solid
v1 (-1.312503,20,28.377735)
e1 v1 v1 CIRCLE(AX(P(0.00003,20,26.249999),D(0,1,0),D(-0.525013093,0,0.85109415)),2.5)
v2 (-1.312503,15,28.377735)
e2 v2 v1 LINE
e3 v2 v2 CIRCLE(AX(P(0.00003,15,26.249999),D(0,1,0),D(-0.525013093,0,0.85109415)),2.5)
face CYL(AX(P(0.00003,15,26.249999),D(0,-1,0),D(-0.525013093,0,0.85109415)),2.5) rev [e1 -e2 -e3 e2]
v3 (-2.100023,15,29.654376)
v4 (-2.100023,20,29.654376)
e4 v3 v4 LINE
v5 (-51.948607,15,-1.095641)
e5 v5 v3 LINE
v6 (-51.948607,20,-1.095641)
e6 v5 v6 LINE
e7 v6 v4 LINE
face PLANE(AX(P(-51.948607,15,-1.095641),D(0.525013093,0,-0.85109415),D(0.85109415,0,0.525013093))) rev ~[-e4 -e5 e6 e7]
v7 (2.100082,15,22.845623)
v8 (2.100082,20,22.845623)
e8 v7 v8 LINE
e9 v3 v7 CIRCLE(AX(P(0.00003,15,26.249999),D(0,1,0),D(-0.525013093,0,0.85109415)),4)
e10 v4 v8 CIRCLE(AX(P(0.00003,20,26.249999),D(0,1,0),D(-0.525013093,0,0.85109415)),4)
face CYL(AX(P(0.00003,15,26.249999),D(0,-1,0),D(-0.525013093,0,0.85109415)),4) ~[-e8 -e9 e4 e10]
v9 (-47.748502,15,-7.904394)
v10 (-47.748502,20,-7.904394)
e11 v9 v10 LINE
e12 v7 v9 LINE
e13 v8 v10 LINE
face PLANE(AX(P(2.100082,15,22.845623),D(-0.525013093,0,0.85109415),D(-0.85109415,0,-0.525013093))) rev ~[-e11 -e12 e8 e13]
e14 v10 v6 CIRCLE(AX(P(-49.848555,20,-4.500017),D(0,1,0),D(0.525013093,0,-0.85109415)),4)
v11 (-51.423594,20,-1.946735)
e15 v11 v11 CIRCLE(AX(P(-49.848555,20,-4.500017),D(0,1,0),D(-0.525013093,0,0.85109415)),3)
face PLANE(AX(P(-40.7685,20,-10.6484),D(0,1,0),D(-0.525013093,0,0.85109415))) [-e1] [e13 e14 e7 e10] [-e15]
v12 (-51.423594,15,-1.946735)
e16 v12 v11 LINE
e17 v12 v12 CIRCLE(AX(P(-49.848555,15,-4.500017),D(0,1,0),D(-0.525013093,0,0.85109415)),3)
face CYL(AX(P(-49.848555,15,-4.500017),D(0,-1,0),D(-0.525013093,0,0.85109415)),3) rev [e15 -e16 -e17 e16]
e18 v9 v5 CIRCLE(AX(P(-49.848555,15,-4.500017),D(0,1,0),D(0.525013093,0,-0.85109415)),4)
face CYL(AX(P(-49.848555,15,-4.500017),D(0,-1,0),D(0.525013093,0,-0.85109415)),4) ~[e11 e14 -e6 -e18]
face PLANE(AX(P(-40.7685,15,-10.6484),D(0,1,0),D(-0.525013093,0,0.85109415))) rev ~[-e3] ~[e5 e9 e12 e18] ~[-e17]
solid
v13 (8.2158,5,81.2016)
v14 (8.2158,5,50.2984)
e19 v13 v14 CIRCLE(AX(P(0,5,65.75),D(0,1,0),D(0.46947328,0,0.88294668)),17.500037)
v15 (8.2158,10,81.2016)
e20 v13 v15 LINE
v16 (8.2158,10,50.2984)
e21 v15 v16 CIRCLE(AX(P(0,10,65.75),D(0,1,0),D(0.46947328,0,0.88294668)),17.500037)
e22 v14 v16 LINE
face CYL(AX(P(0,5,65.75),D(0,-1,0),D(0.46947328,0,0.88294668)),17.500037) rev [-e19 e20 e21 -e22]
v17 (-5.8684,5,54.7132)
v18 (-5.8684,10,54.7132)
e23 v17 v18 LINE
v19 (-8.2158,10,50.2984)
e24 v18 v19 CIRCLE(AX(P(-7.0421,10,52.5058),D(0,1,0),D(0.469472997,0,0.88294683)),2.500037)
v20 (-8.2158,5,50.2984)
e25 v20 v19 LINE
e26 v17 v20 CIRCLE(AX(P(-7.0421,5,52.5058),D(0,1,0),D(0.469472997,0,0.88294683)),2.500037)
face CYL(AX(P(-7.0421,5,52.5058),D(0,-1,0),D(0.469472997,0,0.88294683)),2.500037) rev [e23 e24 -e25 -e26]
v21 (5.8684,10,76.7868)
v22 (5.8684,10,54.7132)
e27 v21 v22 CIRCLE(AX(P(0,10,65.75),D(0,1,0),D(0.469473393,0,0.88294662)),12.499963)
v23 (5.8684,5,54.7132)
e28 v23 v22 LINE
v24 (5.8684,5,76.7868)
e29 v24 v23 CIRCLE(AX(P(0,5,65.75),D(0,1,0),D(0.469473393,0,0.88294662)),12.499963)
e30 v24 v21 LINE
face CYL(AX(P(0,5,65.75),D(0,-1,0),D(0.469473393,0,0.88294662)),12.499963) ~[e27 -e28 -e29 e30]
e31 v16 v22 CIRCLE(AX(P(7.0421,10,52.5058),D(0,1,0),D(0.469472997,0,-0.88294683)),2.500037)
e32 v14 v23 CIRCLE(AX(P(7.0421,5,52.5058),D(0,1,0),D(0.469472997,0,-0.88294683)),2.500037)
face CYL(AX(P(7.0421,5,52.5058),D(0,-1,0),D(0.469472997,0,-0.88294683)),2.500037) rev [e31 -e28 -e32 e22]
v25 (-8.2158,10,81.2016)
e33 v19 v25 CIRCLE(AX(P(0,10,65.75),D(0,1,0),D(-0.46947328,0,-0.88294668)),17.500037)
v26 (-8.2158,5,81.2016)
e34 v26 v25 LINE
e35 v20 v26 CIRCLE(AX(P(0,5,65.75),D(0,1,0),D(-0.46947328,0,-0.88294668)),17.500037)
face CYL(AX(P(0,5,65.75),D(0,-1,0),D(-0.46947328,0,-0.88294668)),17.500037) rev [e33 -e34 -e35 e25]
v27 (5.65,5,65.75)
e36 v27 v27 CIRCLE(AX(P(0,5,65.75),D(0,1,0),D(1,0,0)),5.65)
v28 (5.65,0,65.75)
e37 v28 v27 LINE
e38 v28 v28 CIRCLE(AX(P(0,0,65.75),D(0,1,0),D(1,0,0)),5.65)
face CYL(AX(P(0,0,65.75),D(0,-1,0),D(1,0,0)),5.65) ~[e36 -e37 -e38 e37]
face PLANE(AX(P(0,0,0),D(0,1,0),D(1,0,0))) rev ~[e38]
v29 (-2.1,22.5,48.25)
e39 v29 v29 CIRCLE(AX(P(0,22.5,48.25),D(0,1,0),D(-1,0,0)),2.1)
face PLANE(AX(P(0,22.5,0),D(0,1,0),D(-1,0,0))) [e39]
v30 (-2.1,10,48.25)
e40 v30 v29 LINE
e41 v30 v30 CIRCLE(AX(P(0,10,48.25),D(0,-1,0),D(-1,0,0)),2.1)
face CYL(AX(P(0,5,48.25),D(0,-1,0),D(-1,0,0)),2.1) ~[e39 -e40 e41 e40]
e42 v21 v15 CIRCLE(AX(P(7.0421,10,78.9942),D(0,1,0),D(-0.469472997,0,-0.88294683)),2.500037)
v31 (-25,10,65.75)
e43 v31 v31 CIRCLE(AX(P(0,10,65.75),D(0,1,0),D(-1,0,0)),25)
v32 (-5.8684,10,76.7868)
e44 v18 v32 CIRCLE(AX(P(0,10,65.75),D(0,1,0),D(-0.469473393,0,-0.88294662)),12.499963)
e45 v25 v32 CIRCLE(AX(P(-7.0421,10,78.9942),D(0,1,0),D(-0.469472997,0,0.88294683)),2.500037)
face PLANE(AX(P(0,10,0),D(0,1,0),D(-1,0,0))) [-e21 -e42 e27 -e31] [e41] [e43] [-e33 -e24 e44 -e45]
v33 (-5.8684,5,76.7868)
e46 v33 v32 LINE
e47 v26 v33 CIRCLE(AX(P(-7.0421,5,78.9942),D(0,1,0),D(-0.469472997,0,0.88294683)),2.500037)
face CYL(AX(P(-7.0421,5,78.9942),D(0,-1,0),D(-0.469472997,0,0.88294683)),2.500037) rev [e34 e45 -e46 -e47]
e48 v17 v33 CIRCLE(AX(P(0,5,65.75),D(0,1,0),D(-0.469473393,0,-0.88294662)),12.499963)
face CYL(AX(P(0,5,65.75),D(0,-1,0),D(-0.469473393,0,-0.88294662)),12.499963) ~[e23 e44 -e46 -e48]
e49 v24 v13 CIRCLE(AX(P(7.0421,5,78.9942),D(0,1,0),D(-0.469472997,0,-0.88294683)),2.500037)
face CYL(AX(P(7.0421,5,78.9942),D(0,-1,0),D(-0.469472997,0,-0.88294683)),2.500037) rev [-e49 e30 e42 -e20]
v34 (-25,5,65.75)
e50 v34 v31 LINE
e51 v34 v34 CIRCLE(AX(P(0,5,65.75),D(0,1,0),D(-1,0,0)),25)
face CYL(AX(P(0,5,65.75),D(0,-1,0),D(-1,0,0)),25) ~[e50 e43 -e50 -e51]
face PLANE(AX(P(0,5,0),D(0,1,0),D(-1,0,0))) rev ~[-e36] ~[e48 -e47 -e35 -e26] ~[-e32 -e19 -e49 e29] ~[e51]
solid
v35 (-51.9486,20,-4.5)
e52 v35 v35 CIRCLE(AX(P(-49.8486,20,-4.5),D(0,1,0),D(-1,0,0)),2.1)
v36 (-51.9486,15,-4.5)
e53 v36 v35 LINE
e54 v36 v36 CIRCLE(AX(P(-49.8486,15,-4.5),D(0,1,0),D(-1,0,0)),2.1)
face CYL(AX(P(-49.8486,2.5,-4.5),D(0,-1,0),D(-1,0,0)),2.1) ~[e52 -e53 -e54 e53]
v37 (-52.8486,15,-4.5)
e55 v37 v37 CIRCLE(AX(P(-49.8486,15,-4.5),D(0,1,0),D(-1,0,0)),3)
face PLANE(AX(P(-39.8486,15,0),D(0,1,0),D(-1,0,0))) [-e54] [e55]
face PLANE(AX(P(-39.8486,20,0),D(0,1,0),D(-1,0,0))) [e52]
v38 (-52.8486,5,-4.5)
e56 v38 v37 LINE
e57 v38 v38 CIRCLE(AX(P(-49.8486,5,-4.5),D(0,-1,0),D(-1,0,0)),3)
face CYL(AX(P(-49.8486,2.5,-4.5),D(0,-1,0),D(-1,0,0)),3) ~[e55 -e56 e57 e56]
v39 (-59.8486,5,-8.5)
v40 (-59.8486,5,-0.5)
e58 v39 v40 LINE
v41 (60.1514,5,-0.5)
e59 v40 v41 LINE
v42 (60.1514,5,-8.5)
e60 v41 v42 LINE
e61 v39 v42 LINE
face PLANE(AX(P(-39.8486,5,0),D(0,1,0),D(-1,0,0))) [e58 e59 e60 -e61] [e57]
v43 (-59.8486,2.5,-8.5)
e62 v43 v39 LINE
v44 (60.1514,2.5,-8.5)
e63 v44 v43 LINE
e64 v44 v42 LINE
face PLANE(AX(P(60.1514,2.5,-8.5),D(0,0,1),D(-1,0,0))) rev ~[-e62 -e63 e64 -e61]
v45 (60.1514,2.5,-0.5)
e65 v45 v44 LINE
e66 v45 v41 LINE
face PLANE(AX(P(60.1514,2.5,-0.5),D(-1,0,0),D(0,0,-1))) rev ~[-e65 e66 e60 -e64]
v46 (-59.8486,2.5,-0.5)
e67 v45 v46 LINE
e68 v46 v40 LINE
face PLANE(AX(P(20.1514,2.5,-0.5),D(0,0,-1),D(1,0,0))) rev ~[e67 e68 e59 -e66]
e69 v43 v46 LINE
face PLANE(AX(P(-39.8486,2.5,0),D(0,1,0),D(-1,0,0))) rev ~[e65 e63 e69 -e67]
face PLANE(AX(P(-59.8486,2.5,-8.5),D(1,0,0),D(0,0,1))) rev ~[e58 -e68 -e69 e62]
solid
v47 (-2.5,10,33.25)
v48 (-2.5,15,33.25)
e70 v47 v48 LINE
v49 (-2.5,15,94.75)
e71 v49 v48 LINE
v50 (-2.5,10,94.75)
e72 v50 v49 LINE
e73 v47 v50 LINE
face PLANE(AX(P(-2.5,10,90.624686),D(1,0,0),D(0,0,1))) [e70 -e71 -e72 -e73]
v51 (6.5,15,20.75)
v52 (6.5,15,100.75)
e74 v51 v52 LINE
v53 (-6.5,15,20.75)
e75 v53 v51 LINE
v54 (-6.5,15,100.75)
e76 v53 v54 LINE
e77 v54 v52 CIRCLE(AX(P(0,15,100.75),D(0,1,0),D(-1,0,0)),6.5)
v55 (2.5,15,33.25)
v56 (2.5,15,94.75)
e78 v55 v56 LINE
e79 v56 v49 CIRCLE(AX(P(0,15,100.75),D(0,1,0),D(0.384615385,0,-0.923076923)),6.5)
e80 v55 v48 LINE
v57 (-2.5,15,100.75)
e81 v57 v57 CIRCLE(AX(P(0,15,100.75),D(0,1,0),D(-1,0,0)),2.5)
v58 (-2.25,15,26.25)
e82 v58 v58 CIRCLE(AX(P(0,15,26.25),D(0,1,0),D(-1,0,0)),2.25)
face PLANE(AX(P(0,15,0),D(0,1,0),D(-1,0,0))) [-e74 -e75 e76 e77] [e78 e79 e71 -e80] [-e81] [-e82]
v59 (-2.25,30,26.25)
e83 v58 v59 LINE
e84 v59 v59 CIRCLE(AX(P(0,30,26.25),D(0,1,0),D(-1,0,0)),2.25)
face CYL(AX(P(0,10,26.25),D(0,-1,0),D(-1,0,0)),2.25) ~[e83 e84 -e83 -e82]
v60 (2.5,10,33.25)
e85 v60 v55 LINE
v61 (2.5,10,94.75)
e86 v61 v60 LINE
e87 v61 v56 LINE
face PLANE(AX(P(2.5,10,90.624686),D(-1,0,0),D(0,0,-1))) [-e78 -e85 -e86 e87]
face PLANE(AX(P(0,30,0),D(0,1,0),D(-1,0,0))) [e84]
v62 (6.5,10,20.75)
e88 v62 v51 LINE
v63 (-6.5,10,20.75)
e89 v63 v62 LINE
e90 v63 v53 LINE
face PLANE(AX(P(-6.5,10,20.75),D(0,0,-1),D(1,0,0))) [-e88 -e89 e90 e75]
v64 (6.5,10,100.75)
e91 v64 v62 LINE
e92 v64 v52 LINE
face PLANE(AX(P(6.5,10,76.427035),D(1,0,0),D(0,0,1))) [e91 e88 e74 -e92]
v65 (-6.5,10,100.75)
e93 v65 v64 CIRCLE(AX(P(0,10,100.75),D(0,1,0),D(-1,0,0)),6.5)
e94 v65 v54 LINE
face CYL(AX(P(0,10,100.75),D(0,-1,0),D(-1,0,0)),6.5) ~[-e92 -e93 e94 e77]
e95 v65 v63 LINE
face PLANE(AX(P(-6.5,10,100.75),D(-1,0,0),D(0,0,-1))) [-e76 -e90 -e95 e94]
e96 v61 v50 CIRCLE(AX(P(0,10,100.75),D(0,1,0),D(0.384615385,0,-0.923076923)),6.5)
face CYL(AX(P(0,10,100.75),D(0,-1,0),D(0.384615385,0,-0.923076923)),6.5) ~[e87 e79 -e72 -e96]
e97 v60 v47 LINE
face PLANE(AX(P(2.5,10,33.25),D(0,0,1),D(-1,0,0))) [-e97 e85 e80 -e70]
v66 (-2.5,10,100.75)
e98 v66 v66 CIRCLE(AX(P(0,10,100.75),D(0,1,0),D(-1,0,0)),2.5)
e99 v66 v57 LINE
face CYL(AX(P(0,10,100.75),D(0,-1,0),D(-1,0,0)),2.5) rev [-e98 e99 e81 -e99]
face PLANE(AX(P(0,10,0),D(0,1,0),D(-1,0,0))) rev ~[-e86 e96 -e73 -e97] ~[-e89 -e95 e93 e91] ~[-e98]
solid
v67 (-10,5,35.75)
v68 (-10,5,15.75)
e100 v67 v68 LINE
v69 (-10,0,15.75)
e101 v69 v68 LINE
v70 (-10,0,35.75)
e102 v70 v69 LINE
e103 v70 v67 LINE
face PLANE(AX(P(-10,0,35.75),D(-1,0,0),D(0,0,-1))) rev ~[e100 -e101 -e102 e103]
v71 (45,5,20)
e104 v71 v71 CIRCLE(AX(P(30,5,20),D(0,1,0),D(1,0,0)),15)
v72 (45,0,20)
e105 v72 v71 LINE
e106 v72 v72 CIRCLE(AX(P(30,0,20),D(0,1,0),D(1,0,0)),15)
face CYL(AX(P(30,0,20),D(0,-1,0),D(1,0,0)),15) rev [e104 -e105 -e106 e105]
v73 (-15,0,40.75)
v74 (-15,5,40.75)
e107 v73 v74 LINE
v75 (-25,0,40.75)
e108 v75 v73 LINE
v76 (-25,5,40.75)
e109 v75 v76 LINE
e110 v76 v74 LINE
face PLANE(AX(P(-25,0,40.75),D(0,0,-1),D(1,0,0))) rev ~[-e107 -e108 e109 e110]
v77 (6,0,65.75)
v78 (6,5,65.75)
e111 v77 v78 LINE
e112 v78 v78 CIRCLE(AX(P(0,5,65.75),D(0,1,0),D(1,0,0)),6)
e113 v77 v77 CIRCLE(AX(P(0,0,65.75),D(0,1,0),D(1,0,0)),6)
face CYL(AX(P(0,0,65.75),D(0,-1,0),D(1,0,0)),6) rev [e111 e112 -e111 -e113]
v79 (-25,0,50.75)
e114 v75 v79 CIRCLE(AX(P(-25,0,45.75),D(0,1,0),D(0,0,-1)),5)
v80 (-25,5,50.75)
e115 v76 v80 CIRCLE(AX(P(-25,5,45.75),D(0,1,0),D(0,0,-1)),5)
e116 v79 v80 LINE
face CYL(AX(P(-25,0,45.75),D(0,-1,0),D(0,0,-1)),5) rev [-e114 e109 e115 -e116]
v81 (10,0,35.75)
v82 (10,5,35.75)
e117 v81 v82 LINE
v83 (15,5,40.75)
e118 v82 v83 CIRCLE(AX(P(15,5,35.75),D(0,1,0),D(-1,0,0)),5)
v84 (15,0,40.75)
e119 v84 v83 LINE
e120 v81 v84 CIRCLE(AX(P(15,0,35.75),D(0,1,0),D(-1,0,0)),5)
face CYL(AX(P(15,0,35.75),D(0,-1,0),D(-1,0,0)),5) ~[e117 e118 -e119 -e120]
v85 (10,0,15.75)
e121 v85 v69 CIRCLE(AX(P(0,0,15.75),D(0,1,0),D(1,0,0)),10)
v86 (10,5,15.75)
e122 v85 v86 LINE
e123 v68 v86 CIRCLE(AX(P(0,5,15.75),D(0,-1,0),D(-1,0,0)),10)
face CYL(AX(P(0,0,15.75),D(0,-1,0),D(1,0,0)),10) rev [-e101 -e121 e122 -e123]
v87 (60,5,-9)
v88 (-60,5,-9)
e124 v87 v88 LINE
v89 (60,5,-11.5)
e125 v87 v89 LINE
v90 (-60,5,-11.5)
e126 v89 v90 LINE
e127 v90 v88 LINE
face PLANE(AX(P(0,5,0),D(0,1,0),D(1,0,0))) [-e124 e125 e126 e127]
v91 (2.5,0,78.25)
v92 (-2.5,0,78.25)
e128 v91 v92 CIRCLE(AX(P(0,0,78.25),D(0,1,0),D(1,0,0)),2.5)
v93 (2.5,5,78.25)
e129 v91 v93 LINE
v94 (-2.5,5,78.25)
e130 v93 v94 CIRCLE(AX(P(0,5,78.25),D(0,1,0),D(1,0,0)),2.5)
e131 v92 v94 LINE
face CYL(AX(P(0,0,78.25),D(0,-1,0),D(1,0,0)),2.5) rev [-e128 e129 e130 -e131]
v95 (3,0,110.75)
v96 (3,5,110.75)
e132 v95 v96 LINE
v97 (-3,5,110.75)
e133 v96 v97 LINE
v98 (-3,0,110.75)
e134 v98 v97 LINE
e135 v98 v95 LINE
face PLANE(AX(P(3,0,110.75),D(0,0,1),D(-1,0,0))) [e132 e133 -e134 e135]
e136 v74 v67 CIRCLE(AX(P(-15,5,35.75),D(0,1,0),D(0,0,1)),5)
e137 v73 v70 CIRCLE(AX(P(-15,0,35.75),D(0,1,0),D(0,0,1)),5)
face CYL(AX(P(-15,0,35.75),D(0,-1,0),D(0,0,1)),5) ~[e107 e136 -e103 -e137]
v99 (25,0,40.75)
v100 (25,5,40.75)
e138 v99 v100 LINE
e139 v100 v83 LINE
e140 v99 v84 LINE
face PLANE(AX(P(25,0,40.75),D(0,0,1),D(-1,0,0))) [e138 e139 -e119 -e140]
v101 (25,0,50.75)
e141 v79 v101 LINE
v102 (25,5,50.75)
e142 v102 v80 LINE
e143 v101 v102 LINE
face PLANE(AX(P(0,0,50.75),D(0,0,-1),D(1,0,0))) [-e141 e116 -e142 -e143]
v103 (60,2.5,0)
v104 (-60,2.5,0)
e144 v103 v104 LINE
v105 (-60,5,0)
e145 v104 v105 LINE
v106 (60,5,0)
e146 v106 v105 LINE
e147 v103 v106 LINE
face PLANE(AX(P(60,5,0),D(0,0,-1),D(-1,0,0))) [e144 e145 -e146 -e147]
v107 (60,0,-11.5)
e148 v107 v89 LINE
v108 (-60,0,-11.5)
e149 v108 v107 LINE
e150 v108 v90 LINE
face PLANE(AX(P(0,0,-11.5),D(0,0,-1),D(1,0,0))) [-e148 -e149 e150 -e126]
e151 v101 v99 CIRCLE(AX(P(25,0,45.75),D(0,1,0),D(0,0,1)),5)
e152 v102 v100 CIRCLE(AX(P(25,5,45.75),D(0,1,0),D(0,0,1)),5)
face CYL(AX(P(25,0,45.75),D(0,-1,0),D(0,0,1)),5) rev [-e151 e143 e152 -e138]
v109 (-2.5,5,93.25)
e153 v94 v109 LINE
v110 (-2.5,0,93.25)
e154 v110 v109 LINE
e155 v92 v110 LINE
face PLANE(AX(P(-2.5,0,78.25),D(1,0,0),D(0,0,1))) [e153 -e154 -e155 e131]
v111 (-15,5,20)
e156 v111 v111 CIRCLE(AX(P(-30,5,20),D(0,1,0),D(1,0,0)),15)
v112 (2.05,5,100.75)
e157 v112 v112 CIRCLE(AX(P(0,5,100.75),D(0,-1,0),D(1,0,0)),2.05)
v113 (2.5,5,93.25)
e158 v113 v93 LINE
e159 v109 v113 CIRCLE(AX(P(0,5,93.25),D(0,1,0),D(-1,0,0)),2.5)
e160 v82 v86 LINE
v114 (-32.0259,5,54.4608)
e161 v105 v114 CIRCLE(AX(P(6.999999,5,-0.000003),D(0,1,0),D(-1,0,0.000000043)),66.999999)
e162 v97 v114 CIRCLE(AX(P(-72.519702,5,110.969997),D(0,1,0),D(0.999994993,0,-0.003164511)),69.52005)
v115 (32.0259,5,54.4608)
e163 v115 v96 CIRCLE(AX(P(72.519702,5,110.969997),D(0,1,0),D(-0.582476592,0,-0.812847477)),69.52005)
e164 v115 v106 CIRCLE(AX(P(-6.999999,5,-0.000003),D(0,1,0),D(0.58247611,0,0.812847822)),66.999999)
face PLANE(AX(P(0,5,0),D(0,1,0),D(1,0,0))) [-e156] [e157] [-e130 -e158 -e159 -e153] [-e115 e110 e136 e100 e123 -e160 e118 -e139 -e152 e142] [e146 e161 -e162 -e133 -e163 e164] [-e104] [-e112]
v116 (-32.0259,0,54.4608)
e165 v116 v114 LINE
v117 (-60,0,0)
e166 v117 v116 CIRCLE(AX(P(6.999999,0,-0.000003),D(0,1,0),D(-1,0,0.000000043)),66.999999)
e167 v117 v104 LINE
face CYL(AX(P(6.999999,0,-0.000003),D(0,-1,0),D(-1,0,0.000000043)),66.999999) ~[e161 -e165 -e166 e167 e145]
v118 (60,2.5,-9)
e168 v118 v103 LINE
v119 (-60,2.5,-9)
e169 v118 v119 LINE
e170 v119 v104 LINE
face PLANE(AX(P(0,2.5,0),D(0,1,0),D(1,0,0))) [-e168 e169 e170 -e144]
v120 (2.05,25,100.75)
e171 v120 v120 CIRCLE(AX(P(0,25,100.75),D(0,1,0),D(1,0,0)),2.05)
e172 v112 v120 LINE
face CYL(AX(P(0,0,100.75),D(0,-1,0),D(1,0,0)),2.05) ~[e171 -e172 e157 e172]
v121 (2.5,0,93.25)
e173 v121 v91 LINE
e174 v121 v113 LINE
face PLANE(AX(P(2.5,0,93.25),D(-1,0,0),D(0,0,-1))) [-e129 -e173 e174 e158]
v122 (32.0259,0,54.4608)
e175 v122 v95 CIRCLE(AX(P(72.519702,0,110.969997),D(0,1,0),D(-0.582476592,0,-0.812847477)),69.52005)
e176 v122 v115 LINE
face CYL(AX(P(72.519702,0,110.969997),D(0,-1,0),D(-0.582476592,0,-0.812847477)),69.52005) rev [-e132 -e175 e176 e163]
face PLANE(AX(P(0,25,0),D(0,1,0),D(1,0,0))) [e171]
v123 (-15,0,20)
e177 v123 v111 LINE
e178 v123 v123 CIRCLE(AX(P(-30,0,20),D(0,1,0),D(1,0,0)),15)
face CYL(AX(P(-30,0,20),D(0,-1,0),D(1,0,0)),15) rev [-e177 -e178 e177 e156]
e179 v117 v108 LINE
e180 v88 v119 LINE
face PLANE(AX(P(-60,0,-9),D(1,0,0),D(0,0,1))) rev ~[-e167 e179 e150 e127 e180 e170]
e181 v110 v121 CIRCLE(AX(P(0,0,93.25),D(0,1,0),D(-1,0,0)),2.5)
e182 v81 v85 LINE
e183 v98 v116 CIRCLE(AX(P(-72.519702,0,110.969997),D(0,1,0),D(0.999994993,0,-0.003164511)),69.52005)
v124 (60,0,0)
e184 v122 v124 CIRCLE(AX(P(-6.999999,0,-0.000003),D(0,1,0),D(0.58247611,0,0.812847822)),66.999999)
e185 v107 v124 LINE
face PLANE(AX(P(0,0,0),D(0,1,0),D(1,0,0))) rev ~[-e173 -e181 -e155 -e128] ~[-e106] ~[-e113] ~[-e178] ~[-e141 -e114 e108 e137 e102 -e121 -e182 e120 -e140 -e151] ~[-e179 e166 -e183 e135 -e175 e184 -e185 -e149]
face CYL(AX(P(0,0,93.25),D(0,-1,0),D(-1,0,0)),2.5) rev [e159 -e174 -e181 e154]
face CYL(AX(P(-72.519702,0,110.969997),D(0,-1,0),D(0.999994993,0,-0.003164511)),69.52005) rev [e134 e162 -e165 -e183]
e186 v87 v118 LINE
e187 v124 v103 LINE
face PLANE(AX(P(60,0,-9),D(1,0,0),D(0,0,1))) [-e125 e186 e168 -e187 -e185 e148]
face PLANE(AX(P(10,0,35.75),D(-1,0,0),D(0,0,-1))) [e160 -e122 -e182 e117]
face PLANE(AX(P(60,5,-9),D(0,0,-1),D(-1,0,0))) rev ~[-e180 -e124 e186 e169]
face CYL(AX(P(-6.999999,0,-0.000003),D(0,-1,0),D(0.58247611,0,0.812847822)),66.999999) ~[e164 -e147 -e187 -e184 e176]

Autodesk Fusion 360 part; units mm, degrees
sketch "Sketch1" plane through (0, 0, 0) normal (0, 1, 0) x (1, 0, 0) in component "Fixed"
  arc A0 (32.0259, -54.4608) -> (60, 0) centre (-7, 0) ccw
  arc A1 (32.0259, -54.4608) -> (3, -110.75) centre (72.5197, -110.97) ccw
  line L0 (3, -110.75) -> (0, -110.75)
  line L1 (0, -110.75) -> (0, 0) construction
  circle A2 centre (30, -20) radius 15
  line L2 (0, -50.75) -> (25, -50.75)
  arc A3 (25, -50.75) -> (25, -40.75) centre (25, -45.75) ccw
  line L3 (25, -40.75) -> (15, -40.75)
  arc A4 (10, -35.75) -> (15, -40.75) centre (15, -35.75) ccw
  line L4 (10, -35.75) -> (10, -15.75)
  arc A5 (10, -15.75) -> (0, -5.75) centre (0, -15.75) ccw
  line L5 (30, -45.75) -> (30, -20) construction
  line L6 (60, 0) -> (0, 0)
  line L7 (0, 0) -> (0, 11.5) construction
  line L8 (0, 11.5) -> (60, 11.5)
  line L9 (60, 11.5) -> (60, 0)
  line L10 (60, 9) -> (0, 9)
  circle A6 centre (0, -65.75) radius 6
  circle A7 centre (0, -100.75) radius 2.05
  line L11 (-2.5, -78.25) -> (-2.5, -93.25)
  arc A8 (-2.5, -93.25) -> (2.5, -93.25) centre (0, -93.25) ccw
  line L12 (2.5, -93.25) -> (2.5, -78.25)
  arc A9 (2.5, -78.25) -> (-2.5, -78.25) centre (0, -78.25) ccw
  line L13 (0, -78.25) -> (0, -93.25) construction
  line L14 (-3, -110.75) -> (0, -110.75)
  arc A10 (-3, -110.75) -> (-32.0259, -54.4608) centre (-72.5197, -110.97) ccw
  arc A11 (-60, 0) -> (-32.0259, -54.4608) centre (7, 0) ccw
  arc A12 (-25, -40.75) -> (-25, -50.75) centre (-25, -45.75) ccw
  line L15 (-25, -40.75) -> (-15, -40.75)
  arc A13 (-15, -40.75) -> (-10, -35.75) centre (-15, -35.75) ccw
  line L16 (-10, -35.75) -> (-10, -15.75)
  arc A14 (0, -5.75) -> (-10, -15.75) centre (0, -15.75) ccw
  line L17 (0, -50.75) -> (-25, -50.75)
  circle A15 centre (-30, -20) radius 15
  line L18 (-60, 0) -> (0, 0)
  line L19 (-60, 9) -> (0, 9)
  line L20 (0, 11.5) -> (-60, 11.5)
  line L21 (-60, 11.5) -> (-60, 0)
  point P0 (0, -85.75)
  dimension "d1" = 7
  dimension "d2" = 67
  dimension "d3" = 69.52
  dimension "d4" = 110.75
  dimension "d5" = 3
  dimension "d6" = 30
  dimension "d7" = 20
  dimension "d8" = 5
  dimension "d9" = 10
  dimension "d10" = 5
  dimension "d11" = 10
  dimension "d12" = 25
  dimension "d13" = 15.75
  dimension "d14" = 90.75
  dimension "d15" = 11.5
  dimension "d16" = 9
  dimension "d17" = 12
  dimension "d18" = 4.1
  dimension "d19" = 2.5
  dimension "d20" = 10
  dimension "d21" = 15
  dimension "d22" = 45
  dimension "d23" = 25
extrude "Extrude1" add sketch "Sketch1" along normal blind 5 contours A0 A1 L0 L6 L14 A10 A11 L18 | L6 L9 L10 L18 L19 L21 | L8 L9 L10 L19 L20 L21 | A7 makes body 1 in component "Fixed"
extrude "Extrude2" cut sketch "Sketch1" against normal blind 2.5 from surface at 5 contours L6 L9 L10 L18 L19 L21 bodies 1 in component "Fixed"
extrude "Extrude3" add sketch "Sketch1" along normal blind 25 contours A7 bodies 1 in component "Fixed"
sketch "Sketch1 (2)" plane through (0, 0, 0) normal (0, 1, 0) x (1, 0, 0) in component "Crank"
  circle A0 centre (0, -65.75) radius 6
  circle A1 centre (0, -65.75) radius 5.65
  dimension "d31" = 11.3
extrude "Extrude1'" add sketch "Sketch1 (2)" along normal blind 5 separate body contours A1 makes body 2 in component "Crank"
sketch "Sketch2" plane through (0, 5, 0) normal (0, 1, 0) x (-1, 0, 0) in component "Crank"
  circle A0 centre (0, 65.75) radius 5.65
  circle A1 centre (0, 65.75) radius 25
  arc A2 (-8.2158, 81.2016) -> (-8.2158, 50.2984) centre (0, 65.75) ccw
  arc A3 (-5.8684, 76.7868) -> (-8.2158, 81.2016) centre (-7.0421, 78.9942) ccw
  arc A4 (-5.8684, 76.7868) -> (-5.8684, 54.7132) centre (0, 65.75) ccw
  arc A5 (-8.2158, 50.2984) -> (-5.8684, 54.7132) centre (-7.0421, 52.5058) ccw
  arc A6 (-7.0421, 78.9942) -> (-7.0421, 52.5058) centre (0, 65.75) ccw construction
  line L0 (-7.0421, 52.5058) -> (0, 65.75) construction
  line L1 (0, 65.75) -> (-7.0421, 78.9942) construction
  line L2 (0, 65.75) -> (0, 40.75) construction
  arc A7 (5.8684, 54.7132) -> (8.2158, 50.2984) centre (7.0421, 52.5058) ccw
  arc A8 (8.2158, 50.2984) -> (8.2158, 81.2016) centre (0, 65.75) ccw
  arc A9 (8.2158, 81.2016) -> (5.8684, 76.7868) centre (7.0421, 78.9942) ccw
  arc A10 (5.8684, 54.7132) -> (5.8684, 76.7868) centre (0, 65.75) ccw
  line L3 (7.0421, 52.5058) -> (0, 65.75) construction
  circle A11 centre (0, 48.25) radius 2.1
  dimension "d34" = 50
  dimension "d35" = 124
  dimension "d36" = 17.5
  dimension "d37" = 12.5
  dimension "d38" = 56
  dimension "d39" = 4.2
  dimension "d40" = 17.5
extrude "Extrude2'" add sketch "Sketch2" along normal blind 5 separate body contours A0 | A1 | A11 makes body 3 in component "Crank"
extrude "Extrude3'" add sketch "Sketch2" along normal blind 17.5 contours A11 bodies 3 in component "Crank"
sketch "Sketch1 (3)" plane through (0, 10, 0) normal (0, 1, 0) x (-1, 0, 0) in component "FrontLever"
  circle A0 centre (0, 48.25) radius 2.1
  arc A1 (-5.8684, 76.7868) -> (-8.2158, 81.2016) centre (-7.0421, 78.9942) ccw
  arc A2 (-5.8684, 76.7868) -> (-5.8684, 54.7132) centre (0, 65.75) ccw
  arc A3 (-8.2158, 50.2984) -> (-5.8684, 54.7132) centre (-7.0421, 52.5058) ccw
  arc A4 (-8.2158, 81.2016) -> (-8.2158, 50.2984) centre (0, 65.75) ccw
  arc A5 (8.2158, 50.2984) -> (8.2158, 81.2016) centre (0, 65.75) ccw
  arc A6 (5.8684, 54.7132) -> (8.2158, 50.2984) centre (7.0421, 52.5058) ccw
  arc A7 (5.8684, 54.7132) -> (5.8684, 76.7868) centre (0, 65.75) ccw
  arc A8 (8.2158, 81.2016) -> (5.8684, 76.7868) centre (7.0421, 78.9942) ccw
  circle A9 centre (0, 65.75) radius 25
  circle A10 centre (0, 100.75) radius 2.05
  circle A11 centre (0, 100.75) radius 2.5
  line L0 (6.5, 20.75) -> (-6.5, 20.75)
  line L1 (-6.5, 20.75) -> (-6.5, 100.75)
  line L2 (6.5, 100.75) -> (6.5, 20.75)
  arc A12 (6.5, 100.75) -> (-6.5, 100.75) centre (0, 100.75) ccw
  arc A13 (-2.5, 94.75) -> (2.5, 94.75) centre (0, 100.75) ccw
  line L3 (2.5, 94.75) -> (-2.5, 94.75)
  line L4 (-2.5, 94.75) -> (-2.5, 33.25)
  line L5 (-2.5, 33.25) -> (2.5, 33.25)
  line L6 (2.5, 33.25) -> (2.5, 94.75)
  circle A14 centre (0, 26.25) radius 2.25
  dimension "d45" = 5
  dimension "d47" = 13
  dimension "d48" = 6.5
  dimension "d49" = 5
  dimension "d50" = 12.5
  dimension "d51" = 61.5
  dimension "d52" = 4.5
  dimension "d53" = 5.5
extrude "Extrude1''" add sketch "Sketch1 (3)" along normal blind 5 separate body contours A1 A2 L1 | A1 A2 A3 A9 L1 L4 | A9 L1 L2 A12 L3 L4 L6 | A2 A3 L1 | A9 L0 L1 L2 L4 L5 L6 | A6 A7 A8 A9 L2 L6 | A13 L3 | A7 A8 L2 | A6 A7 L2 makes body 4 in component "FrontLever"
extrude "Extrude2''" add sketch "Sketch1 (3)" along normal blind 20 contours A14 bodies 4 in component "FrontLever"
sketch "Sketch1 (4)" plane through (0, 2.5, 0) normal (0, 1, 0) x (-1, 0, 0) in component "Slider"
  line L0 (60, -9) -> (60, 0)
  line L1 (60, 0) -> (-60, 0)
  line L2 (-60, 0) -> (-60, -9)
  line L3 (-60, -9) -> (60, -9)
  line L4 (20, -0.5) -> (-100, -0.5)
  line L5 (-100, -0.5) -> (-100, -8.5)
  line L6 (-100, -8.5) -> (20, -8.5)
  line L7 (20, -8.5) -> (20, -0.5)
  circle A0 centre (10, -4.5) radius 2.1
  circle A1 centre (10, -4.5) radius 3
  line L8 (10, -4.5) -> (20, -4.5) construction
  dimension "d86" = 120
  dimension "d87" = 8
  dimension "d88" = 0.5
  dimension "d101" = 4.2
  dimension "d102" = 40
  dimension "d103" = 10
  dimension "d104" = 6
extrude "Extrude1'''" add sketch "Sketch1 (4)" along normal blind 2.5 separate body contours L2 L4 L5 L6 | L2 L4 L6 L7 | A0 | A1 makes body 5 in component "Slider"
extrude "Extrude2'''" add sketch "Sketch1 (4)" along normal blind 12.5 contours A1 bodies 5 in component "Slider"
extrude "Extrude3''" add sketch "Sketch1 (4)" along normal blind 17.5 contours A0 bodies 5 in component "Slider"
sketch "Sketch1 (5)" plane through (0, 15, 0) normal (0, 1, 0) x (-1, 0, 0) in component "ConRod"
  circle A0 centre (10, -4.5) radius 2.1
  circle A1 centre (10, -4.5) radius 3
  line L0 (14, -4.5) -> (14, 54.07)
  arc A2 (14, 54.07) -> (6, 54.07) centre (10, 54.07) ccw
  line L1 (6, 54.07) -> (6, -4.5)
  arc A3 (6, -4.5) -> (14, -4.5) centre (10, -4.5) ccw
  line L2 (10, -4.5) -> (10, 54.07) construction
  circle A4 centre (10, -4.5) radius 2.5
  circle A5 centre (10, 54.07) radius 2.5
  dimension "d112" = 58.57
  dimension "d113" = 5
  dimension "d114" = 4
  dimension "d115" = 5
extrude "Extrude1''''" add sketch "Sketch1 (5)" along normal blind 5 separate body contours L0 A2 L1 A3 makes body 6 in component "ConRod"
combine "Combine1" operation add target body 2 tool bodies 3 in component "Crank"
component "Fixed" placed x (1, 0, 0) y (0, 1, 0) z (0, 0, 1) at (0, 0, 0)
component "Crank" placed x (1, 0, 0) y (0, 1, 0) z (0, 0, 1) at (0, 0, 0)
component "FrontLever" placed x (1, 0, 0) y (0, 1, 0) z (0, 0, 1) at (0, 0, 0)
component "Slider" placed x (1, 0, 0) y (0, 1, 0) z (0, 0, 1) at (-39.8486, 0, 0)
component "ConRod" placed x (0.525013, 0, -0.851094) y (0, 1, 0) z (0.851094, 0, 0.525013) at (-40.7685, 0, -10.6484)
equation "d4 = 122.25 mm - 11.5 mm"
equation "d43 = 12.5 mm + 5 mm"
equation "d47 = ( 6.5 * 2 ) * 1 mm"
equation "d56 = 15 mm + 5 mm"
equation "d92 = ( 5 * -1 ) * 1 mm"
equation "d109 = 15 mm + 2.5 mm"
